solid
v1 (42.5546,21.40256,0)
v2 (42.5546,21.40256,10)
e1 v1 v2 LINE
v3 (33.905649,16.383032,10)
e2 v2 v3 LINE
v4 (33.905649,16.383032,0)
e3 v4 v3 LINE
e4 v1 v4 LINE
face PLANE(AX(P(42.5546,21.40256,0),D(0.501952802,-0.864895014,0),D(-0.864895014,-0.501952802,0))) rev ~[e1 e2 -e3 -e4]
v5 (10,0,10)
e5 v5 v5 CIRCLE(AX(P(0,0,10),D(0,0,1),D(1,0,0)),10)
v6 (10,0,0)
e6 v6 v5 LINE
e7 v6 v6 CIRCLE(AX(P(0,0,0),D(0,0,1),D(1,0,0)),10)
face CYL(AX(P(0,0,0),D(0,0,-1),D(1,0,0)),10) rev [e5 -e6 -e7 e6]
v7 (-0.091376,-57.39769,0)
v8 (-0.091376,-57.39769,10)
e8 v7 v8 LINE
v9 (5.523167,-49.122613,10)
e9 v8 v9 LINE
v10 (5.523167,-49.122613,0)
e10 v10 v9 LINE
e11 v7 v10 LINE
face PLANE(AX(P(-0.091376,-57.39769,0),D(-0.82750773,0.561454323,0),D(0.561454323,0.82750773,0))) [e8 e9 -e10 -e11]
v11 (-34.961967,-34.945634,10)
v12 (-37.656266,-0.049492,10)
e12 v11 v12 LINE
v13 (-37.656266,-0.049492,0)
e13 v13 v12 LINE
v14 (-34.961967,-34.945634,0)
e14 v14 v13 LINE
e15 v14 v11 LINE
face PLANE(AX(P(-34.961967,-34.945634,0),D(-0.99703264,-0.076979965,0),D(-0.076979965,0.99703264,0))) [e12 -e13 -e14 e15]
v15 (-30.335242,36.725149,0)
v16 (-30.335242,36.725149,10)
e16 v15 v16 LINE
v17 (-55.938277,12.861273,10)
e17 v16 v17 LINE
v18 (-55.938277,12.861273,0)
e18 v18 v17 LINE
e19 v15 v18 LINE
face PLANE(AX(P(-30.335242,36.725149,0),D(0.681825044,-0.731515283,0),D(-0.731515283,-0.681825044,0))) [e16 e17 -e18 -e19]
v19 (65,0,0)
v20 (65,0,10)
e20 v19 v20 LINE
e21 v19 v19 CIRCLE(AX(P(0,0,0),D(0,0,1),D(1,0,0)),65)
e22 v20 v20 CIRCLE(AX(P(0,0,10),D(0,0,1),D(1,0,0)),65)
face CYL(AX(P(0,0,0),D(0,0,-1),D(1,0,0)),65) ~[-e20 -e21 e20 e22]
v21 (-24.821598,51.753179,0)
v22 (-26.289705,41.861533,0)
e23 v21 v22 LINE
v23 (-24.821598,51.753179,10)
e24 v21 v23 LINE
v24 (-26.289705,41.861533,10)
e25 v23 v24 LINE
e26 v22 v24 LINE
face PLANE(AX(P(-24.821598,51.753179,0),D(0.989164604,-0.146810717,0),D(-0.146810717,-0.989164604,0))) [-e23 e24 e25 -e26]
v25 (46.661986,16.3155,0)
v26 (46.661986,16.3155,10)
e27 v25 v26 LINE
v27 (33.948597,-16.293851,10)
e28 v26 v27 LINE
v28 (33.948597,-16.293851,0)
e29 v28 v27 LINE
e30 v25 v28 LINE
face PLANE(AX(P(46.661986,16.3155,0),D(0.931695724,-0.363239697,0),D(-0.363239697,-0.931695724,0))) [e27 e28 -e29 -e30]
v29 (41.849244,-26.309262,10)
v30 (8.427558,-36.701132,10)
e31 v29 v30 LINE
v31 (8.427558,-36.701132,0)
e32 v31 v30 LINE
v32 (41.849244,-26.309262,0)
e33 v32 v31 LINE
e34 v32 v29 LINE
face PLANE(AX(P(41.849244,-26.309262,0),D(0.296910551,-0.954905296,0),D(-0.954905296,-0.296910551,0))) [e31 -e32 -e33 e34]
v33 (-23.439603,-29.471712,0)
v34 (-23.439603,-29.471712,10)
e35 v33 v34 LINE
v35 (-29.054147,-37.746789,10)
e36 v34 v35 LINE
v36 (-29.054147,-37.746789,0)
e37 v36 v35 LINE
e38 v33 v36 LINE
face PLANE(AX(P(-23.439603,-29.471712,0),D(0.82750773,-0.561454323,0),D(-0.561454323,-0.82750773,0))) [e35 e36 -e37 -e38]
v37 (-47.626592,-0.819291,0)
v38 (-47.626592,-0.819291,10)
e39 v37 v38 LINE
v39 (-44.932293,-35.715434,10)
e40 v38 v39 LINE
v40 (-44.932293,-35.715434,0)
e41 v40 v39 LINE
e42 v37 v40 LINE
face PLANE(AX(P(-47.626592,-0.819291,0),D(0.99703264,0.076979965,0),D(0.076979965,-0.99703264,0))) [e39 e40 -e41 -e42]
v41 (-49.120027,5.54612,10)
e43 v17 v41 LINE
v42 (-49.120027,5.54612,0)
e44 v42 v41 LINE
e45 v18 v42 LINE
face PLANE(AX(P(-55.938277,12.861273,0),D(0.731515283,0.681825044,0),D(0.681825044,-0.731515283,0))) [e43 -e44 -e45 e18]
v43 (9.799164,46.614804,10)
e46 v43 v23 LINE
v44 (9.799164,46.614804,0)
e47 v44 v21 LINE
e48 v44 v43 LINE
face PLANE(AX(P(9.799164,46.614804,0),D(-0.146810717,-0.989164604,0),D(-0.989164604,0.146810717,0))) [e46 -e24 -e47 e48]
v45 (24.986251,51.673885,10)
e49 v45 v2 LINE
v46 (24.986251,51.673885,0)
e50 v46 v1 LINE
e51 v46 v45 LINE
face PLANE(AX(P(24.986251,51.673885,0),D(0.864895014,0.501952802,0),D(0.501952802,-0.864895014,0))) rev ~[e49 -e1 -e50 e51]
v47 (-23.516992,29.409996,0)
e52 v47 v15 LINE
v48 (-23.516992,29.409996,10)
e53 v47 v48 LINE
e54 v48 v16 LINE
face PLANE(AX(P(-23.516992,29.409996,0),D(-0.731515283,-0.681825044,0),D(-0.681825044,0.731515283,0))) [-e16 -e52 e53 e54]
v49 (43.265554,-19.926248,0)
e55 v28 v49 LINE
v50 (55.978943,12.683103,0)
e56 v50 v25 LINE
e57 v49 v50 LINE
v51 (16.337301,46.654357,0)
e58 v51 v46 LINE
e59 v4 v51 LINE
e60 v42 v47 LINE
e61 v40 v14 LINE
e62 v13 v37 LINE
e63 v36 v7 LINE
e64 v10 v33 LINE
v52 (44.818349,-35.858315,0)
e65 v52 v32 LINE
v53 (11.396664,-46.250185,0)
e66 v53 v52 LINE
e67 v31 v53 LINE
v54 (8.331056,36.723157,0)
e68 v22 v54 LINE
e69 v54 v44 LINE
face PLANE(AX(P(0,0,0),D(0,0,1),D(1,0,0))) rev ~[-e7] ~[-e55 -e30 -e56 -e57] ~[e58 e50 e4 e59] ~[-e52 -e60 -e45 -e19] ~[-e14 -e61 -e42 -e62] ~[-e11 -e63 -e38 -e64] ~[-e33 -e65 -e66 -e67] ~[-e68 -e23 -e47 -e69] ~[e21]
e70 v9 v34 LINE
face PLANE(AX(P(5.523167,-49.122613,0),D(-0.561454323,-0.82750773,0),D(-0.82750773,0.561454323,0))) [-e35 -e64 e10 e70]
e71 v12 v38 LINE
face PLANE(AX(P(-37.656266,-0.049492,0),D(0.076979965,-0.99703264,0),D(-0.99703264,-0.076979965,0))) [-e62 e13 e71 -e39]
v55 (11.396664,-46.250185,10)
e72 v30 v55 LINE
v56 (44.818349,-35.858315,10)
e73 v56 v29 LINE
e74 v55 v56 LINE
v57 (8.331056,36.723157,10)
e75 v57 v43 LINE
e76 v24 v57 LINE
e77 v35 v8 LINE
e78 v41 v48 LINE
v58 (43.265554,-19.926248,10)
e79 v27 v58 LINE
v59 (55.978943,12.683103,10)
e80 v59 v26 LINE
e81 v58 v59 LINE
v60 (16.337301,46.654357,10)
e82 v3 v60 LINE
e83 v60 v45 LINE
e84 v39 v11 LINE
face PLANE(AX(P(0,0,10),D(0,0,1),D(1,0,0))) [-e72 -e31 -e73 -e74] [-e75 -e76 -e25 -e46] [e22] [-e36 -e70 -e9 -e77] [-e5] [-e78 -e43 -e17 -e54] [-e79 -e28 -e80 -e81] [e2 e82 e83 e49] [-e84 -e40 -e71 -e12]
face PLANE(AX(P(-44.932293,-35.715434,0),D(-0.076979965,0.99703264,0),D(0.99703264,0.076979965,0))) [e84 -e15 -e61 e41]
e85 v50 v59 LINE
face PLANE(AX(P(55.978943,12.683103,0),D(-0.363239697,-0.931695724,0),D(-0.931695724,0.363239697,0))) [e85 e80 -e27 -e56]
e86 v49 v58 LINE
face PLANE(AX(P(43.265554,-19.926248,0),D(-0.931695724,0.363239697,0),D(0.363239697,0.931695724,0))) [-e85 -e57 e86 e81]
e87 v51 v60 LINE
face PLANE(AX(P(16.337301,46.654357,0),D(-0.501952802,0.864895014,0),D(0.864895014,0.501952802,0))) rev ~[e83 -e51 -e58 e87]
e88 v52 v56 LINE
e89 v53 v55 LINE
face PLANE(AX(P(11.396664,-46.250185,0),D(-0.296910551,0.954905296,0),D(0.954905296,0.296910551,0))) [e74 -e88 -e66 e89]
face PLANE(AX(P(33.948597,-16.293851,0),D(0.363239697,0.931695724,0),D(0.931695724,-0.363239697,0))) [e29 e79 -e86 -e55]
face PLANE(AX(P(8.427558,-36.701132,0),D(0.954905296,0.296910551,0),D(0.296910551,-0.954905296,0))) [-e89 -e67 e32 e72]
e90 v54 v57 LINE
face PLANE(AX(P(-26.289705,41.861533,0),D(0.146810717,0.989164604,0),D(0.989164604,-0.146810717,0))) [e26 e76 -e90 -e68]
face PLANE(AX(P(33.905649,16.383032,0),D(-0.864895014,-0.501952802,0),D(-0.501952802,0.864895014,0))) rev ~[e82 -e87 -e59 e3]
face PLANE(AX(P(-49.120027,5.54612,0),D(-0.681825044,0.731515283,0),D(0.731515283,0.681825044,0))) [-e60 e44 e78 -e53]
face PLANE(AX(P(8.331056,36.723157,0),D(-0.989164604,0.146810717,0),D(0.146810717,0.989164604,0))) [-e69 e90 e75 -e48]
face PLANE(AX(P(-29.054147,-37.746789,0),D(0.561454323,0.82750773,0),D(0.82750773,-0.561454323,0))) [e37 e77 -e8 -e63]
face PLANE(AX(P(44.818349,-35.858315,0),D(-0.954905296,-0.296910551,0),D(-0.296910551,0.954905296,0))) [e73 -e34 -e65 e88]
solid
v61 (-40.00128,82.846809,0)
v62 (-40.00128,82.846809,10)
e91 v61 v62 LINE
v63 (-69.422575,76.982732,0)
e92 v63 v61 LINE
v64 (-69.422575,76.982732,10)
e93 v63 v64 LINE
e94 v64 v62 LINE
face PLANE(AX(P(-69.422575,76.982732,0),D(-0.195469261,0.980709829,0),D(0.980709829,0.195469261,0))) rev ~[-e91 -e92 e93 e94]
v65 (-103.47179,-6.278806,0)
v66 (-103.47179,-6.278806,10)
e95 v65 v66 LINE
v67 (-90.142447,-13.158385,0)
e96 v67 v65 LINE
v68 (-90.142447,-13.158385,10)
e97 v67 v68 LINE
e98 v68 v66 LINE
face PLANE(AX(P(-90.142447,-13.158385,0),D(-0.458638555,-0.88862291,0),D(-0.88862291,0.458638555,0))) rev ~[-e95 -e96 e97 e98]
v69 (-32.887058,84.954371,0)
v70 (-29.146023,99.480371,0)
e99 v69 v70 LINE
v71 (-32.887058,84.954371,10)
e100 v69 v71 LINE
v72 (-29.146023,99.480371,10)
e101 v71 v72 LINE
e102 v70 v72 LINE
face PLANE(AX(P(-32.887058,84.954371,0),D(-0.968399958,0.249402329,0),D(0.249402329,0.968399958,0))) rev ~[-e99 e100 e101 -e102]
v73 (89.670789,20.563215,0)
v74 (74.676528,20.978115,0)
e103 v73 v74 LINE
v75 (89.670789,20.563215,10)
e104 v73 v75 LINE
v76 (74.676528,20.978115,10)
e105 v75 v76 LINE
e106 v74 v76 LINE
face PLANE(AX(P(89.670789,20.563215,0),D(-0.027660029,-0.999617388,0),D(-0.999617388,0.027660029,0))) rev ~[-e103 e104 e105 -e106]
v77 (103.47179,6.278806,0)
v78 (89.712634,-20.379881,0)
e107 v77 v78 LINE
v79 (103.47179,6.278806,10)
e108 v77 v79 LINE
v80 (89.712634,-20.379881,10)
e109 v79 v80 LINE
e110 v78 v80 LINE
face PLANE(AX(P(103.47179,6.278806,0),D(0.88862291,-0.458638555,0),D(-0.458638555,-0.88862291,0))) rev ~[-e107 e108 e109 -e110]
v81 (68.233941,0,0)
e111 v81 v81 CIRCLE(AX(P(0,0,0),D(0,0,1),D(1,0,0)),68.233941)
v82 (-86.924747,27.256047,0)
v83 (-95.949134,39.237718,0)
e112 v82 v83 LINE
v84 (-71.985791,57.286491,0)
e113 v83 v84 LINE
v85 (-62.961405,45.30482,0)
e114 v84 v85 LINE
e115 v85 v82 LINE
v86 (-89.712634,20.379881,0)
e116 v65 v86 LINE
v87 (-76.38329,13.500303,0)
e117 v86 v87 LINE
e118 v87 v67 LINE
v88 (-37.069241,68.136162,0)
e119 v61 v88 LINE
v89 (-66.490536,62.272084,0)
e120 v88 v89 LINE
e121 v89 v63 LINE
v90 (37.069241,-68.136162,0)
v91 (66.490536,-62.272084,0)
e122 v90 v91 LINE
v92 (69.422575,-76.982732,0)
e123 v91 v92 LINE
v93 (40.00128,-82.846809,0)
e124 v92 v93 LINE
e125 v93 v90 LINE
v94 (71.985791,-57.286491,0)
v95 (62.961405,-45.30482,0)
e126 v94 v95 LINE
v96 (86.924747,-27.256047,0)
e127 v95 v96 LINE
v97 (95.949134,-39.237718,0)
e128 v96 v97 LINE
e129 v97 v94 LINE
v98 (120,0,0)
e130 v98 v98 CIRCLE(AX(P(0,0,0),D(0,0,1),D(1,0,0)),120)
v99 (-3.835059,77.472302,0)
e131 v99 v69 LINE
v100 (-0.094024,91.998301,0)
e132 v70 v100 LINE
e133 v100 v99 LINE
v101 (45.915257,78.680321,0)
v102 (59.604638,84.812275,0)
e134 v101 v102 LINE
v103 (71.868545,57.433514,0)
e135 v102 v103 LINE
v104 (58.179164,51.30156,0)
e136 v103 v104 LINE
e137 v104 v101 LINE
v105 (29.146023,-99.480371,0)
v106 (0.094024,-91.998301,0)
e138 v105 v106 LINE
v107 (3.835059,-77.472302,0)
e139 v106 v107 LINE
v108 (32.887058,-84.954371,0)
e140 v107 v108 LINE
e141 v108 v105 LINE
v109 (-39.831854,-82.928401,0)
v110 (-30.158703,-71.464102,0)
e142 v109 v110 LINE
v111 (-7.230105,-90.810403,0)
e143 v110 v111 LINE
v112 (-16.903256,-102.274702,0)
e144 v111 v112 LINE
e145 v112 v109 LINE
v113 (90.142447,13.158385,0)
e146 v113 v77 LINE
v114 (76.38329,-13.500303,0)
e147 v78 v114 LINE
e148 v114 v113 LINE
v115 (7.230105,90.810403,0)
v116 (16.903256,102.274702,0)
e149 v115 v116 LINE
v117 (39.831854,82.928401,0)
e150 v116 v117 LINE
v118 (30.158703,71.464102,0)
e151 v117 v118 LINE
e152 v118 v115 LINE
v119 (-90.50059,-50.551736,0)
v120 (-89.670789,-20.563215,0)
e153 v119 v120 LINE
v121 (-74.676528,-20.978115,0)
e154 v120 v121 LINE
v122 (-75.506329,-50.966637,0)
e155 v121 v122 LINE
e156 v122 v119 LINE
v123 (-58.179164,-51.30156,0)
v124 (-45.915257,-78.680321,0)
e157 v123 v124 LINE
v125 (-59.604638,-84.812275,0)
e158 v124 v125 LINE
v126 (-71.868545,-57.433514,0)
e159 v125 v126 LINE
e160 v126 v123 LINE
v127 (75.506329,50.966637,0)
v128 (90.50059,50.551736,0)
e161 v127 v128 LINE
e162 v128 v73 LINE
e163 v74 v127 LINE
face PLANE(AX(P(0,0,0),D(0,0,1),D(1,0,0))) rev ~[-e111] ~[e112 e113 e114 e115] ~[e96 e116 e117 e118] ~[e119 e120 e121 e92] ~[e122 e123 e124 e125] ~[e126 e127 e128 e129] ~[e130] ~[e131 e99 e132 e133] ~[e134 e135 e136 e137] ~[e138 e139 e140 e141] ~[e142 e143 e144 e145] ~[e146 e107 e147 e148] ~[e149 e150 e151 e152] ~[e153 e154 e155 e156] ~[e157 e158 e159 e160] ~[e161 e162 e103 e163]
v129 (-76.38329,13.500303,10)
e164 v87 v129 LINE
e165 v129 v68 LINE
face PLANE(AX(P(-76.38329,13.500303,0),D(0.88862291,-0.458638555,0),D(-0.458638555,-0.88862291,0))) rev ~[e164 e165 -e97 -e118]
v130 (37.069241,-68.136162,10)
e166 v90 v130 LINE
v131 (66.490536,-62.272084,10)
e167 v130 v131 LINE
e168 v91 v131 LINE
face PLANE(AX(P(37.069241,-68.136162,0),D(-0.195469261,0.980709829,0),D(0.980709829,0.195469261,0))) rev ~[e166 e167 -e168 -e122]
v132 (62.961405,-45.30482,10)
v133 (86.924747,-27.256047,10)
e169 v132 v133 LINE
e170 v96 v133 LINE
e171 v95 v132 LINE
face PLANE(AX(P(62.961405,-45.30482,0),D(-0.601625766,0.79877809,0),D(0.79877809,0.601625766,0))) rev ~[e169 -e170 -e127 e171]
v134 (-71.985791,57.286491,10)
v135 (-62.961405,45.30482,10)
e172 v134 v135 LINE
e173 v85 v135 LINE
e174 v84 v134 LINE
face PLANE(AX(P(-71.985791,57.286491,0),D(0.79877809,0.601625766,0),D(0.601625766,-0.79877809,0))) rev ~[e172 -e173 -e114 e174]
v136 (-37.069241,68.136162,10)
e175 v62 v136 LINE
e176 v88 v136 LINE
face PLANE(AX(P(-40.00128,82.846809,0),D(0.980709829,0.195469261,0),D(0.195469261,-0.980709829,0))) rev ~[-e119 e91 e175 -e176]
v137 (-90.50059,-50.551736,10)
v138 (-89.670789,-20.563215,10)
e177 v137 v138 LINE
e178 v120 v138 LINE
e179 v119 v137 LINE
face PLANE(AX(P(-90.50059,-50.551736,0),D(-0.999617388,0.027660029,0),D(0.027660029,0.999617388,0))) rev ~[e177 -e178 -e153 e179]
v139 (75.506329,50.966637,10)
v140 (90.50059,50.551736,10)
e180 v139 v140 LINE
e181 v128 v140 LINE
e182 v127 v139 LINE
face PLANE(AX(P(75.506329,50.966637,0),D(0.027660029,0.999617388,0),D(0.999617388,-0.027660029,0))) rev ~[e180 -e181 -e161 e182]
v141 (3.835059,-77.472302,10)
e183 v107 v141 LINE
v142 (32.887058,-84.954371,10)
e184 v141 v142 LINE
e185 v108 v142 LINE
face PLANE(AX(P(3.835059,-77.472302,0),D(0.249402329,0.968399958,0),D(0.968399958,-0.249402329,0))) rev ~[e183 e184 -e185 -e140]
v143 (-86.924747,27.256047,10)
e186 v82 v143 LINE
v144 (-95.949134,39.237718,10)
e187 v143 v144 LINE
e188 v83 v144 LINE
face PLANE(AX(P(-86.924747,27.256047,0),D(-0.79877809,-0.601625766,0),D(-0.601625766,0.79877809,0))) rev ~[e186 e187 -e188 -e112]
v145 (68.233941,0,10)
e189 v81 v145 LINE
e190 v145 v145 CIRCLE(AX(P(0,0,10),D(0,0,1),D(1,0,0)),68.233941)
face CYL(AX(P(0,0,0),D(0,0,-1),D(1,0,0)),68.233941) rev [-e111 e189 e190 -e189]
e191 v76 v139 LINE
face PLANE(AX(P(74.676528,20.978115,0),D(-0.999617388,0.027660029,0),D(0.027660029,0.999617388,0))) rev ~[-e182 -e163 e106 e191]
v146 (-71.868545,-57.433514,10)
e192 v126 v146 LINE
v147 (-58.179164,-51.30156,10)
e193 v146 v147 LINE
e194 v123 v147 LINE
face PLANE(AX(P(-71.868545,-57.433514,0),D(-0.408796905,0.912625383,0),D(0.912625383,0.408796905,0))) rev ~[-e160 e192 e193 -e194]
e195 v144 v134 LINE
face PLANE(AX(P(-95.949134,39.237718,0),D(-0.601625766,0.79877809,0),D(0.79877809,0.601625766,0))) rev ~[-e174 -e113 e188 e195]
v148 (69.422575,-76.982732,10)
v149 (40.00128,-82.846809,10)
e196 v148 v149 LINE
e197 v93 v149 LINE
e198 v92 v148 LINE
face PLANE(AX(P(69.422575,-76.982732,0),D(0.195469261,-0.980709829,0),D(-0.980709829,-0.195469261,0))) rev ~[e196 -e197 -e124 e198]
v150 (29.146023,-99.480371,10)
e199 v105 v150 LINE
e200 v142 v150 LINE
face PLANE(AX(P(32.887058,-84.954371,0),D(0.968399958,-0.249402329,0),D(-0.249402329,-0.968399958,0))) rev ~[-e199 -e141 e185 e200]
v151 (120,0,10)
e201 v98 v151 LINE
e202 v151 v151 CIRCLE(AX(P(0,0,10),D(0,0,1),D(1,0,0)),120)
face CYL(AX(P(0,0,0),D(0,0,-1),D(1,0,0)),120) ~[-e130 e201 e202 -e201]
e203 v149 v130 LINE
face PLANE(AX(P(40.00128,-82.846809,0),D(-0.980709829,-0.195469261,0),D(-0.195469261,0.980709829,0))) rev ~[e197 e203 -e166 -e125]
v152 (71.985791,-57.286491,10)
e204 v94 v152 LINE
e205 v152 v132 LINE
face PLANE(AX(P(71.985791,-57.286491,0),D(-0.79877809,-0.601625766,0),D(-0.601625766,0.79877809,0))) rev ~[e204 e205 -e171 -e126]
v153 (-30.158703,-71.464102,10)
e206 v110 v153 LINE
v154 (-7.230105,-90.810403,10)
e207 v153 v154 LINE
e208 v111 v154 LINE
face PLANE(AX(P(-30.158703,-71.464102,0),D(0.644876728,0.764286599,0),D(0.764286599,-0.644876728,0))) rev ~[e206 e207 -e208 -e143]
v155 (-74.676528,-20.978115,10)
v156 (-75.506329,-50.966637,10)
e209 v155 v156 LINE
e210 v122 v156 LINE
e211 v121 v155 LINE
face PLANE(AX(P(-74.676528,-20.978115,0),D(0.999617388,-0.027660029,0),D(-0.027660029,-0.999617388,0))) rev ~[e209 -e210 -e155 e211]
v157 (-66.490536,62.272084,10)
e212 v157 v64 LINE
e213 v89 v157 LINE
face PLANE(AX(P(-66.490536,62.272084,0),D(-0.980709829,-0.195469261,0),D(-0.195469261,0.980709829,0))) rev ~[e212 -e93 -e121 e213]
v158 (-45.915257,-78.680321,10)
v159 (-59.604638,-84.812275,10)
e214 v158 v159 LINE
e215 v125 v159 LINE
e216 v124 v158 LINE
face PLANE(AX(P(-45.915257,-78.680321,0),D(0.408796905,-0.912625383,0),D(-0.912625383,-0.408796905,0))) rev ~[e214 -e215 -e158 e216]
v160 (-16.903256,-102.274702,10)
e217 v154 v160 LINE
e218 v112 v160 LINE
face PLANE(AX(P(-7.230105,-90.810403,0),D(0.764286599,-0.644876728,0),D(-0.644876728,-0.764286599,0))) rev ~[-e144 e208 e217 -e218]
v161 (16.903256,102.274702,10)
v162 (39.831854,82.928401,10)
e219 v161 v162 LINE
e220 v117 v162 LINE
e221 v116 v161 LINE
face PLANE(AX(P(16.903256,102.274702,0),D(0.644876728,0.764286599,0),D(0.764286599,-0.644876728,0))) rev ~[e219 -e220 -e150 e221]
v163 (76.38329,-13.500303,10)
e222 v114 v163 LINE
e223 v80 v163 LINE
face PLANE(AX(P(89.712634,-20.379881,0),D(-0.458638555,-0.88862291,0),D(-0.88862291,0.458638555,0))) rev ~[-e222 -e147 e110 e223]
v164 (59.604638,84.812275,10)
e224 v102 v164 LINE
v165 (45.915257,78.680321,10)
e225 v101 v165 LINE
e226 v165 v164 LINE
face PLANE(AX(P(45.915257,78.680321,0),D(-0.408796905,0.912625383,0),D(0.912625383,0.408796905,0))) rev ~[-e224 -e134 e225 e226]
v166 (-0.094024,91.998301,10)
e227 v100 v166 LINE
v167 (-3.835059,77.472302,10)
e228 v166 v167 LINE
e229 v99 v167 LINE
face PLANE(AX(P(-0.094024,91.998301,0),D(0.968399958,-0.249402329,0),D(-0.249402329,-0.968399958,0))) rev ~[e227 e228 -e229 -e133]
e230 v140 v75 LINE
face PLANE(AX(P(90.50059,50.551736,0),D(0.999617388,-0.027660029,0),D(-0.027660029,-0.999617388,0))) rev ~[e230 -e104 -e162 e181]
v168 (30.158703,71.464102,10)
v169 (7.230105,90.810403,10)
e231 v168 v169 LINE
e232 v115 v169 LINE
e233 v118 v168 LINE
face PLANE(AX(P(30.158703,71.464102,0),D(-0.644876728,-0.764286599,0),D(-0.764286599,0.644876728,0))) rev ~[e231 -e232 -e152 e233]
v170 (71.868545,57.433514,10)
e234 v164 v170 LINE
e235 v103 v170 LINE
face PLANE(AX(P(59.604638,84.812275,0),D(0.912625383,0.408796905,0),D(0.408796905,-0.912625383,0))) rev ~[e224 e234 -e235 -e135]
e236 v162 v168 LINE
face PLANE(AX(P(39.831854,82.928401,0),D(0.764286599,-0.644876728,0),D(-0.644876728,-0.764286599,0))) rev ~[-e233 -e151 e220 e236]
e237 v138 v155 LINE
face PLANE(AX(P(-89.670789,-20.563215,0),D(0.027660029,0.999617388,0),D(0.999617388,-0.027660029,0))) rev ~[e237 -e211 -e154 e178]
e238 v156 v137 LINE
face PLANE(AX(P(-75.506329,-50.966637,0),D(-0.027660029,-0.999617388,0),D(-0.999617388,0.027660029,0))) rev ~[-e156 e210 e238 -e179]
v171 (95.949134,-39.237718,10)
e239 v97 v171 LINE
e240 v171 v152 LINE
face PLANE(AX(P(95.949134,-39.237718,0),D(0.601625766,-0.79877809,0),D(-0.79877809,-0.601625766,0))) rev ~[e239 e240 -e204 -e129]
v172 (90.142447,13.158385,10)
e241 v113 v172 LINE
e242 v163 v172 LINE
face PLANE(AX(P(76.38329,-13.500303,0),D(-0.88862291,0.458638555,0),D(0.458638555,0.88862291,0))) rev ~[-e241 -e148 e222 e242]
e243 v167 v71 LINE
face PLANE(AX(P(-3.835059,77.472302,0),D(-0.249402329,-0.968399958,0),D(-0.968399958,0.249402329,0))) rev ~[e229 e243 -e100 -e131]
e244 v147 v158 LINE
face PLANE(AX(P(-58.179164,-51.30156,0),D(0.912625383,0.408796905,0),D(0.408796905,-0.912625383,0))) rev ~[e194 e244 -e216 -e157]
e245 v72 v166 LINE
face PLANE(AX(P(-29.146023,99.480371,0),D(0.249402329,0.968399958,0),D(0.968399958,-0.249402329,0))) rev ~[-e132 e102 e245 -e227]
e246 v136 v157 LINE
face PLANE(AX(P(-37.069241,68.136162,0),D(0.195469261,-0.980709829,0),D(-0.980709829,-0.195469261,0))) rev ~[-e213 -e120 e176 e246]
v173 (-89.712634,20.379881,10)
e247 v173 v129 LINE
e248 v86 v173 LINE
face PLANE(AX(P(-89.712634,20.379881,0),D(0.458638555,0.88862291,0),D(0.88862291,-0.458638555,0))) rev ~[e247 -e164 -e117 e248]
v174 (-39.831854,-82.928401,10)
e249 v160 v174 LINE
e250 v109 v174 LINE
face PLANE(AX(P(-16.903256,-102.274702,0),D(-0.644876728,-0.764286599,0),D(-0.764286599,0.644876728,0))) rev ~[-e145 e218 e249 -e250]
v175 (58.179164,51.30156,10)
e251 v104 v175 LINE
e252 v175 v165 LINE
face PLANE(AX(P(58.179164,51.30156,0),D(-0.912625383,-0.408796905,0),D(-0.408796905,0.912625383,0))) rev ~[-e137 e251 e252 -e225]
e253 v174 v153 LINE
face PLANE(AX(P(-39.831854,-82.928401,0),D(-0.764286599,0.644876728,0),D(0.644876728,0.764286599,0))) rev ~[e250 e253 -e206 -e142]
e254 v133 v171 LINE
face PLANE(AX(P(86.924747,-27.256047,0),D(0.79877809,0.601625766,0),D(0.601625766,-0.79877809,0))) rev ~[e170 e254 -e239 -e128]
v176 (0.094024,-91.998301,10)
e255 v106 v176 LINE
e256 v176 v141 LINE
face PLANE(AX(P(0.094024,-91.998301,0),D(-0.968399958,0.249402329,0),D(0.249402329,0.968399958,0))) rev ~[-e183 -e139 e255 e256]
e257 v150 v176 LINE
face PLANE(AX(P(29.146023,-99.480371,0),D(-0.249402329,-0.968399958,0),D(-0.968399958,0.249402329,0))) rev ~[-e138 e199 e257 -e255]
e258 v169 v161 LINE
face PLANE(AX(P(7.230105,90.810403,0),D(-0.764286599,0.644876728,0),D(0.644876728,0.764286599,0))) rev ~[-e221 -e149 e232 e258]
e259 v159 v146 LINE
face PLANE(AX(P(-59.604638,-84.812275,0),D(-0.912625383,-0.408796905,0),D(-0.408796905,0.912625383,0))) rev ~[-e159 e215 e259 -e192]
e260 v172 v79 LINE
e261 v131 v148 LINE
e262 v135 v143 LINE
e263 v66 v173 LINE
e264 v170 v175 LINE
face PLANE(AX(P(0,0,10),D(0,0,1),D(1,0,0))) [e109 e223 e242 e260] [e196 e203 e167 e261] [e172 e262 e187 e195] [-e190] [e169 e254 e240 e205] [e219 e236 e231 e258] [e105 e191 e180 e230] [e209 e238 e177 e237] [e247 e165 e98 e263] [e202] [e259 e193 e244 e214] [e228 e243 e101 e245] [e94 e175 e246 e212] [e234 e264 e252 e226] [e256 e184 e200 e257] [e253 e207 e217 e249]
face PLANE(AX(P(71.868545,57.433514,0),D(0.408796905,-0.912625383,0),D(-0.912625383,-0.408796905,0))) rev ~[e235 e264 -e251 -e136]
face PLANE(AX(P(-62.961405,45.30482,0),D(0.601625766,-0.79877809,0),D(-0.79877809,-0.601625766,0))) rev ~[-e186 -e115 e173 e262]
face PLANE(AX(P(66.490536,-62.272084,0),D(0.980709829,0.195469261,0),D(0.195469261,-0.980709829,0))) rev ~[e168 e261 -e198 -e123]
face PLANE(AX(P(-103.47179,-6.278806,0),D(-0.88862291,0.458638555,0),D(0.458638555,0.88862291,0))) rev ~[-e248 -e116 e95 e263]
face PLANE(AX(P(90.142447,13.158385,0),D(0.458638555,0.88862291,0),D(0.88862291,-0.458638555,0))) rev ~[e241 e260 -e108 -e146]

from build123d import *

# Parameters (mm, degrees)
SKETCH1_R             = 120
SKETCH1_R_2           = 68.233940928
BOSS_EXTRUDE1_DEPTH   = 10
SKETCH1_R_3           = 65
SKETCH1_R_4           = 10
BOSS_EXTRUDE1_2_DEPTH = 10


with BuildPart() as part:
    # Sketch1 → Boss-Extrude1 (new body)
    with BuildSketch(Plane.XY):
        Circle(SKETCH1_R)
        Circle(SKETCH1_R_2, mode=Mode.SUBTRACT)
        Polygon((58.179164054, 51.301559926), (45.915256889, 78.680321422), (59.604637637, 84.812275004), (71.868544802, 57.433513508), align=None, mode=Mode.SUBTRACT)
        Polygon((75.506329072, 50.966636776), (90.500589895, 50.551736348), (89.670789039, 20.563214701), (74.676528216, 20.978115129), align=None, mode=Mode.SUBTRACT)
        Polygon((90.142446758, 13.158384652), (103.471790408, 6.278806332), (89.712633768, -20.379880968), (76.383290118, -13.500302648), align=None, mode=Mode.SUBTRACT)
        Polygon((86.924747339, -27.256046929), (95.949133832, -39.237718283), (71.985791125, -57.286491269), (62.961404632, -45.304819915), align=None, mode=Mode.SUBTRACT)
        Polygon((66.490535648, -62.272084143), (69.422574562, -76.982731573), (40.001279702, -82.846809401), (37.069240788, -68.136161971), align=None, mode=Mode.SUBTRACT)
        Polygon((32.887057918, -84.954371375), (29.146022988, -99.480370743), (0.094024251, -91.998300882), (3.835059181, -77.472301514), align=None, mode=Mode.SUBTRACT)
        Polygon((-7.230104965, -90.810403459), (-16.903255892, -102.274702441), (-39.831853856, -82.928400589), (-30.15870293, -71.464101606), align=None, mode=Mode.SUBTRACT)
        Polygon((-45.915256889, -78.680321422), (-59.604637637, -84.812275004), (-71.868544802, -57.433513508), (-58.179164054, -51.301559926), align=None, mode=Mode.SUBTRACT)
        Polygon((-75.506329072, -50.966636776), (-90.500589895, -50.551736348), (-89.670789039, -20.563214701), (-74.676528216, -20.978115129), align=None, mode=Mode.SUBTRACT)
        Polygon((-90.142446758, -13.158384652), (-103.471790408, -6.278806332), (-89.712633768, 20.379880968), (-76.383290118, 13.500302648), align=None, mode=Mode.SUBTRACT)
        Polygon((-86.924747339, 27.256046929), (-95.949133832, 39.237718283), (-71.985791125, 57.286491269), (-62.961404632, 45.304819915), align=None, mode=Mode.SUBTRACT)
        Polygon((-66.490535648, 62.272084143), (-69.422574562, 76.982731573), (-40.001279702, 82.846809401), (-37.069240788, 68.136161971), align=None, mode=Mode.SUBTRACT)
        Polygon((-32.887057918, 84.954371375), (-29.146022988, 99.480370743), (-0.094024251, 91.998300882), (-3.835059181, 77.472301514), align=None, mode=Mode.SUBTRACT)
        Polygon((7.230104965, 90.810403459), (16.903255892, 102.274702441), (39.831853856, 82.928400589), (30.15870293, 71.464101606), align=None, mode=Mode.SUBTRACT)
    extrude(amount=BOSS_EXTRUDE1_DEPTH)


with BuildPart() as body_2:
    # Sketch1 → Boss-Extrude1 2 (new body)
    with BuildSketch(Plane.XY):
        Circle(SKETCH1_R_3)
        Circle(SKETCH1_R_4, mode=Mode.SUBTRACT)
        Polygon((24.986251453, 51.67388548), (42.554599527, 21.402560006), (33.905649392, 16.383031985), (16.337301318, 46.654357459), align=None, mode=Mode.SUBTRACT)
        Polygon((46.661986217, 16.315499579), (33.948596805, -16.293850762), (43.265554046, -19.926247737), (55.978943458, 12.683102604), align=None, mode=Mode.SUBTRACT)
        Polygon((41.849243764, -26.309262259), (8.427558399, -36.701131551), (11.396663911, -46.250184513), (44.818349276, -35.858315221), align=None, mode=Mode.SUBTRACT)
        Polygon((5.523167187, -49.122613005), (-23.439603373, -29.471711716), (-29.054146598, -37.746789018), (-0.091376038, -57.397690308), align=None, mode=Mode.SUBTRACT)
        Polygon((-34.961966933, -34.945634239), (-37.656265724, -0.049491845), (-47.626592122, -0.819291499), (-44.932293332, -35.715433894), align=None, mode=Mode.SUBTRACT)
        Polygon((-49.120026859, 5.54611987), (-23.516991937, 29.409996395), (-30.335242373, 36.725149229), (-55.938277295, 12.861272705), align=None, mode=Mode.SUBTRACT)
        Polygon((-26.289704694, 41.861532597), (8.331056437, 36.723157494), (9.799163609, 46.614803532), (-24.821597522, 51.753178634), align=None, mode=Mode.SUBTRACT)
    extrude(amount=BOSS_EXTRUDE1_2_DEPTH)


solid = Compound([part.part, body_2.part])
